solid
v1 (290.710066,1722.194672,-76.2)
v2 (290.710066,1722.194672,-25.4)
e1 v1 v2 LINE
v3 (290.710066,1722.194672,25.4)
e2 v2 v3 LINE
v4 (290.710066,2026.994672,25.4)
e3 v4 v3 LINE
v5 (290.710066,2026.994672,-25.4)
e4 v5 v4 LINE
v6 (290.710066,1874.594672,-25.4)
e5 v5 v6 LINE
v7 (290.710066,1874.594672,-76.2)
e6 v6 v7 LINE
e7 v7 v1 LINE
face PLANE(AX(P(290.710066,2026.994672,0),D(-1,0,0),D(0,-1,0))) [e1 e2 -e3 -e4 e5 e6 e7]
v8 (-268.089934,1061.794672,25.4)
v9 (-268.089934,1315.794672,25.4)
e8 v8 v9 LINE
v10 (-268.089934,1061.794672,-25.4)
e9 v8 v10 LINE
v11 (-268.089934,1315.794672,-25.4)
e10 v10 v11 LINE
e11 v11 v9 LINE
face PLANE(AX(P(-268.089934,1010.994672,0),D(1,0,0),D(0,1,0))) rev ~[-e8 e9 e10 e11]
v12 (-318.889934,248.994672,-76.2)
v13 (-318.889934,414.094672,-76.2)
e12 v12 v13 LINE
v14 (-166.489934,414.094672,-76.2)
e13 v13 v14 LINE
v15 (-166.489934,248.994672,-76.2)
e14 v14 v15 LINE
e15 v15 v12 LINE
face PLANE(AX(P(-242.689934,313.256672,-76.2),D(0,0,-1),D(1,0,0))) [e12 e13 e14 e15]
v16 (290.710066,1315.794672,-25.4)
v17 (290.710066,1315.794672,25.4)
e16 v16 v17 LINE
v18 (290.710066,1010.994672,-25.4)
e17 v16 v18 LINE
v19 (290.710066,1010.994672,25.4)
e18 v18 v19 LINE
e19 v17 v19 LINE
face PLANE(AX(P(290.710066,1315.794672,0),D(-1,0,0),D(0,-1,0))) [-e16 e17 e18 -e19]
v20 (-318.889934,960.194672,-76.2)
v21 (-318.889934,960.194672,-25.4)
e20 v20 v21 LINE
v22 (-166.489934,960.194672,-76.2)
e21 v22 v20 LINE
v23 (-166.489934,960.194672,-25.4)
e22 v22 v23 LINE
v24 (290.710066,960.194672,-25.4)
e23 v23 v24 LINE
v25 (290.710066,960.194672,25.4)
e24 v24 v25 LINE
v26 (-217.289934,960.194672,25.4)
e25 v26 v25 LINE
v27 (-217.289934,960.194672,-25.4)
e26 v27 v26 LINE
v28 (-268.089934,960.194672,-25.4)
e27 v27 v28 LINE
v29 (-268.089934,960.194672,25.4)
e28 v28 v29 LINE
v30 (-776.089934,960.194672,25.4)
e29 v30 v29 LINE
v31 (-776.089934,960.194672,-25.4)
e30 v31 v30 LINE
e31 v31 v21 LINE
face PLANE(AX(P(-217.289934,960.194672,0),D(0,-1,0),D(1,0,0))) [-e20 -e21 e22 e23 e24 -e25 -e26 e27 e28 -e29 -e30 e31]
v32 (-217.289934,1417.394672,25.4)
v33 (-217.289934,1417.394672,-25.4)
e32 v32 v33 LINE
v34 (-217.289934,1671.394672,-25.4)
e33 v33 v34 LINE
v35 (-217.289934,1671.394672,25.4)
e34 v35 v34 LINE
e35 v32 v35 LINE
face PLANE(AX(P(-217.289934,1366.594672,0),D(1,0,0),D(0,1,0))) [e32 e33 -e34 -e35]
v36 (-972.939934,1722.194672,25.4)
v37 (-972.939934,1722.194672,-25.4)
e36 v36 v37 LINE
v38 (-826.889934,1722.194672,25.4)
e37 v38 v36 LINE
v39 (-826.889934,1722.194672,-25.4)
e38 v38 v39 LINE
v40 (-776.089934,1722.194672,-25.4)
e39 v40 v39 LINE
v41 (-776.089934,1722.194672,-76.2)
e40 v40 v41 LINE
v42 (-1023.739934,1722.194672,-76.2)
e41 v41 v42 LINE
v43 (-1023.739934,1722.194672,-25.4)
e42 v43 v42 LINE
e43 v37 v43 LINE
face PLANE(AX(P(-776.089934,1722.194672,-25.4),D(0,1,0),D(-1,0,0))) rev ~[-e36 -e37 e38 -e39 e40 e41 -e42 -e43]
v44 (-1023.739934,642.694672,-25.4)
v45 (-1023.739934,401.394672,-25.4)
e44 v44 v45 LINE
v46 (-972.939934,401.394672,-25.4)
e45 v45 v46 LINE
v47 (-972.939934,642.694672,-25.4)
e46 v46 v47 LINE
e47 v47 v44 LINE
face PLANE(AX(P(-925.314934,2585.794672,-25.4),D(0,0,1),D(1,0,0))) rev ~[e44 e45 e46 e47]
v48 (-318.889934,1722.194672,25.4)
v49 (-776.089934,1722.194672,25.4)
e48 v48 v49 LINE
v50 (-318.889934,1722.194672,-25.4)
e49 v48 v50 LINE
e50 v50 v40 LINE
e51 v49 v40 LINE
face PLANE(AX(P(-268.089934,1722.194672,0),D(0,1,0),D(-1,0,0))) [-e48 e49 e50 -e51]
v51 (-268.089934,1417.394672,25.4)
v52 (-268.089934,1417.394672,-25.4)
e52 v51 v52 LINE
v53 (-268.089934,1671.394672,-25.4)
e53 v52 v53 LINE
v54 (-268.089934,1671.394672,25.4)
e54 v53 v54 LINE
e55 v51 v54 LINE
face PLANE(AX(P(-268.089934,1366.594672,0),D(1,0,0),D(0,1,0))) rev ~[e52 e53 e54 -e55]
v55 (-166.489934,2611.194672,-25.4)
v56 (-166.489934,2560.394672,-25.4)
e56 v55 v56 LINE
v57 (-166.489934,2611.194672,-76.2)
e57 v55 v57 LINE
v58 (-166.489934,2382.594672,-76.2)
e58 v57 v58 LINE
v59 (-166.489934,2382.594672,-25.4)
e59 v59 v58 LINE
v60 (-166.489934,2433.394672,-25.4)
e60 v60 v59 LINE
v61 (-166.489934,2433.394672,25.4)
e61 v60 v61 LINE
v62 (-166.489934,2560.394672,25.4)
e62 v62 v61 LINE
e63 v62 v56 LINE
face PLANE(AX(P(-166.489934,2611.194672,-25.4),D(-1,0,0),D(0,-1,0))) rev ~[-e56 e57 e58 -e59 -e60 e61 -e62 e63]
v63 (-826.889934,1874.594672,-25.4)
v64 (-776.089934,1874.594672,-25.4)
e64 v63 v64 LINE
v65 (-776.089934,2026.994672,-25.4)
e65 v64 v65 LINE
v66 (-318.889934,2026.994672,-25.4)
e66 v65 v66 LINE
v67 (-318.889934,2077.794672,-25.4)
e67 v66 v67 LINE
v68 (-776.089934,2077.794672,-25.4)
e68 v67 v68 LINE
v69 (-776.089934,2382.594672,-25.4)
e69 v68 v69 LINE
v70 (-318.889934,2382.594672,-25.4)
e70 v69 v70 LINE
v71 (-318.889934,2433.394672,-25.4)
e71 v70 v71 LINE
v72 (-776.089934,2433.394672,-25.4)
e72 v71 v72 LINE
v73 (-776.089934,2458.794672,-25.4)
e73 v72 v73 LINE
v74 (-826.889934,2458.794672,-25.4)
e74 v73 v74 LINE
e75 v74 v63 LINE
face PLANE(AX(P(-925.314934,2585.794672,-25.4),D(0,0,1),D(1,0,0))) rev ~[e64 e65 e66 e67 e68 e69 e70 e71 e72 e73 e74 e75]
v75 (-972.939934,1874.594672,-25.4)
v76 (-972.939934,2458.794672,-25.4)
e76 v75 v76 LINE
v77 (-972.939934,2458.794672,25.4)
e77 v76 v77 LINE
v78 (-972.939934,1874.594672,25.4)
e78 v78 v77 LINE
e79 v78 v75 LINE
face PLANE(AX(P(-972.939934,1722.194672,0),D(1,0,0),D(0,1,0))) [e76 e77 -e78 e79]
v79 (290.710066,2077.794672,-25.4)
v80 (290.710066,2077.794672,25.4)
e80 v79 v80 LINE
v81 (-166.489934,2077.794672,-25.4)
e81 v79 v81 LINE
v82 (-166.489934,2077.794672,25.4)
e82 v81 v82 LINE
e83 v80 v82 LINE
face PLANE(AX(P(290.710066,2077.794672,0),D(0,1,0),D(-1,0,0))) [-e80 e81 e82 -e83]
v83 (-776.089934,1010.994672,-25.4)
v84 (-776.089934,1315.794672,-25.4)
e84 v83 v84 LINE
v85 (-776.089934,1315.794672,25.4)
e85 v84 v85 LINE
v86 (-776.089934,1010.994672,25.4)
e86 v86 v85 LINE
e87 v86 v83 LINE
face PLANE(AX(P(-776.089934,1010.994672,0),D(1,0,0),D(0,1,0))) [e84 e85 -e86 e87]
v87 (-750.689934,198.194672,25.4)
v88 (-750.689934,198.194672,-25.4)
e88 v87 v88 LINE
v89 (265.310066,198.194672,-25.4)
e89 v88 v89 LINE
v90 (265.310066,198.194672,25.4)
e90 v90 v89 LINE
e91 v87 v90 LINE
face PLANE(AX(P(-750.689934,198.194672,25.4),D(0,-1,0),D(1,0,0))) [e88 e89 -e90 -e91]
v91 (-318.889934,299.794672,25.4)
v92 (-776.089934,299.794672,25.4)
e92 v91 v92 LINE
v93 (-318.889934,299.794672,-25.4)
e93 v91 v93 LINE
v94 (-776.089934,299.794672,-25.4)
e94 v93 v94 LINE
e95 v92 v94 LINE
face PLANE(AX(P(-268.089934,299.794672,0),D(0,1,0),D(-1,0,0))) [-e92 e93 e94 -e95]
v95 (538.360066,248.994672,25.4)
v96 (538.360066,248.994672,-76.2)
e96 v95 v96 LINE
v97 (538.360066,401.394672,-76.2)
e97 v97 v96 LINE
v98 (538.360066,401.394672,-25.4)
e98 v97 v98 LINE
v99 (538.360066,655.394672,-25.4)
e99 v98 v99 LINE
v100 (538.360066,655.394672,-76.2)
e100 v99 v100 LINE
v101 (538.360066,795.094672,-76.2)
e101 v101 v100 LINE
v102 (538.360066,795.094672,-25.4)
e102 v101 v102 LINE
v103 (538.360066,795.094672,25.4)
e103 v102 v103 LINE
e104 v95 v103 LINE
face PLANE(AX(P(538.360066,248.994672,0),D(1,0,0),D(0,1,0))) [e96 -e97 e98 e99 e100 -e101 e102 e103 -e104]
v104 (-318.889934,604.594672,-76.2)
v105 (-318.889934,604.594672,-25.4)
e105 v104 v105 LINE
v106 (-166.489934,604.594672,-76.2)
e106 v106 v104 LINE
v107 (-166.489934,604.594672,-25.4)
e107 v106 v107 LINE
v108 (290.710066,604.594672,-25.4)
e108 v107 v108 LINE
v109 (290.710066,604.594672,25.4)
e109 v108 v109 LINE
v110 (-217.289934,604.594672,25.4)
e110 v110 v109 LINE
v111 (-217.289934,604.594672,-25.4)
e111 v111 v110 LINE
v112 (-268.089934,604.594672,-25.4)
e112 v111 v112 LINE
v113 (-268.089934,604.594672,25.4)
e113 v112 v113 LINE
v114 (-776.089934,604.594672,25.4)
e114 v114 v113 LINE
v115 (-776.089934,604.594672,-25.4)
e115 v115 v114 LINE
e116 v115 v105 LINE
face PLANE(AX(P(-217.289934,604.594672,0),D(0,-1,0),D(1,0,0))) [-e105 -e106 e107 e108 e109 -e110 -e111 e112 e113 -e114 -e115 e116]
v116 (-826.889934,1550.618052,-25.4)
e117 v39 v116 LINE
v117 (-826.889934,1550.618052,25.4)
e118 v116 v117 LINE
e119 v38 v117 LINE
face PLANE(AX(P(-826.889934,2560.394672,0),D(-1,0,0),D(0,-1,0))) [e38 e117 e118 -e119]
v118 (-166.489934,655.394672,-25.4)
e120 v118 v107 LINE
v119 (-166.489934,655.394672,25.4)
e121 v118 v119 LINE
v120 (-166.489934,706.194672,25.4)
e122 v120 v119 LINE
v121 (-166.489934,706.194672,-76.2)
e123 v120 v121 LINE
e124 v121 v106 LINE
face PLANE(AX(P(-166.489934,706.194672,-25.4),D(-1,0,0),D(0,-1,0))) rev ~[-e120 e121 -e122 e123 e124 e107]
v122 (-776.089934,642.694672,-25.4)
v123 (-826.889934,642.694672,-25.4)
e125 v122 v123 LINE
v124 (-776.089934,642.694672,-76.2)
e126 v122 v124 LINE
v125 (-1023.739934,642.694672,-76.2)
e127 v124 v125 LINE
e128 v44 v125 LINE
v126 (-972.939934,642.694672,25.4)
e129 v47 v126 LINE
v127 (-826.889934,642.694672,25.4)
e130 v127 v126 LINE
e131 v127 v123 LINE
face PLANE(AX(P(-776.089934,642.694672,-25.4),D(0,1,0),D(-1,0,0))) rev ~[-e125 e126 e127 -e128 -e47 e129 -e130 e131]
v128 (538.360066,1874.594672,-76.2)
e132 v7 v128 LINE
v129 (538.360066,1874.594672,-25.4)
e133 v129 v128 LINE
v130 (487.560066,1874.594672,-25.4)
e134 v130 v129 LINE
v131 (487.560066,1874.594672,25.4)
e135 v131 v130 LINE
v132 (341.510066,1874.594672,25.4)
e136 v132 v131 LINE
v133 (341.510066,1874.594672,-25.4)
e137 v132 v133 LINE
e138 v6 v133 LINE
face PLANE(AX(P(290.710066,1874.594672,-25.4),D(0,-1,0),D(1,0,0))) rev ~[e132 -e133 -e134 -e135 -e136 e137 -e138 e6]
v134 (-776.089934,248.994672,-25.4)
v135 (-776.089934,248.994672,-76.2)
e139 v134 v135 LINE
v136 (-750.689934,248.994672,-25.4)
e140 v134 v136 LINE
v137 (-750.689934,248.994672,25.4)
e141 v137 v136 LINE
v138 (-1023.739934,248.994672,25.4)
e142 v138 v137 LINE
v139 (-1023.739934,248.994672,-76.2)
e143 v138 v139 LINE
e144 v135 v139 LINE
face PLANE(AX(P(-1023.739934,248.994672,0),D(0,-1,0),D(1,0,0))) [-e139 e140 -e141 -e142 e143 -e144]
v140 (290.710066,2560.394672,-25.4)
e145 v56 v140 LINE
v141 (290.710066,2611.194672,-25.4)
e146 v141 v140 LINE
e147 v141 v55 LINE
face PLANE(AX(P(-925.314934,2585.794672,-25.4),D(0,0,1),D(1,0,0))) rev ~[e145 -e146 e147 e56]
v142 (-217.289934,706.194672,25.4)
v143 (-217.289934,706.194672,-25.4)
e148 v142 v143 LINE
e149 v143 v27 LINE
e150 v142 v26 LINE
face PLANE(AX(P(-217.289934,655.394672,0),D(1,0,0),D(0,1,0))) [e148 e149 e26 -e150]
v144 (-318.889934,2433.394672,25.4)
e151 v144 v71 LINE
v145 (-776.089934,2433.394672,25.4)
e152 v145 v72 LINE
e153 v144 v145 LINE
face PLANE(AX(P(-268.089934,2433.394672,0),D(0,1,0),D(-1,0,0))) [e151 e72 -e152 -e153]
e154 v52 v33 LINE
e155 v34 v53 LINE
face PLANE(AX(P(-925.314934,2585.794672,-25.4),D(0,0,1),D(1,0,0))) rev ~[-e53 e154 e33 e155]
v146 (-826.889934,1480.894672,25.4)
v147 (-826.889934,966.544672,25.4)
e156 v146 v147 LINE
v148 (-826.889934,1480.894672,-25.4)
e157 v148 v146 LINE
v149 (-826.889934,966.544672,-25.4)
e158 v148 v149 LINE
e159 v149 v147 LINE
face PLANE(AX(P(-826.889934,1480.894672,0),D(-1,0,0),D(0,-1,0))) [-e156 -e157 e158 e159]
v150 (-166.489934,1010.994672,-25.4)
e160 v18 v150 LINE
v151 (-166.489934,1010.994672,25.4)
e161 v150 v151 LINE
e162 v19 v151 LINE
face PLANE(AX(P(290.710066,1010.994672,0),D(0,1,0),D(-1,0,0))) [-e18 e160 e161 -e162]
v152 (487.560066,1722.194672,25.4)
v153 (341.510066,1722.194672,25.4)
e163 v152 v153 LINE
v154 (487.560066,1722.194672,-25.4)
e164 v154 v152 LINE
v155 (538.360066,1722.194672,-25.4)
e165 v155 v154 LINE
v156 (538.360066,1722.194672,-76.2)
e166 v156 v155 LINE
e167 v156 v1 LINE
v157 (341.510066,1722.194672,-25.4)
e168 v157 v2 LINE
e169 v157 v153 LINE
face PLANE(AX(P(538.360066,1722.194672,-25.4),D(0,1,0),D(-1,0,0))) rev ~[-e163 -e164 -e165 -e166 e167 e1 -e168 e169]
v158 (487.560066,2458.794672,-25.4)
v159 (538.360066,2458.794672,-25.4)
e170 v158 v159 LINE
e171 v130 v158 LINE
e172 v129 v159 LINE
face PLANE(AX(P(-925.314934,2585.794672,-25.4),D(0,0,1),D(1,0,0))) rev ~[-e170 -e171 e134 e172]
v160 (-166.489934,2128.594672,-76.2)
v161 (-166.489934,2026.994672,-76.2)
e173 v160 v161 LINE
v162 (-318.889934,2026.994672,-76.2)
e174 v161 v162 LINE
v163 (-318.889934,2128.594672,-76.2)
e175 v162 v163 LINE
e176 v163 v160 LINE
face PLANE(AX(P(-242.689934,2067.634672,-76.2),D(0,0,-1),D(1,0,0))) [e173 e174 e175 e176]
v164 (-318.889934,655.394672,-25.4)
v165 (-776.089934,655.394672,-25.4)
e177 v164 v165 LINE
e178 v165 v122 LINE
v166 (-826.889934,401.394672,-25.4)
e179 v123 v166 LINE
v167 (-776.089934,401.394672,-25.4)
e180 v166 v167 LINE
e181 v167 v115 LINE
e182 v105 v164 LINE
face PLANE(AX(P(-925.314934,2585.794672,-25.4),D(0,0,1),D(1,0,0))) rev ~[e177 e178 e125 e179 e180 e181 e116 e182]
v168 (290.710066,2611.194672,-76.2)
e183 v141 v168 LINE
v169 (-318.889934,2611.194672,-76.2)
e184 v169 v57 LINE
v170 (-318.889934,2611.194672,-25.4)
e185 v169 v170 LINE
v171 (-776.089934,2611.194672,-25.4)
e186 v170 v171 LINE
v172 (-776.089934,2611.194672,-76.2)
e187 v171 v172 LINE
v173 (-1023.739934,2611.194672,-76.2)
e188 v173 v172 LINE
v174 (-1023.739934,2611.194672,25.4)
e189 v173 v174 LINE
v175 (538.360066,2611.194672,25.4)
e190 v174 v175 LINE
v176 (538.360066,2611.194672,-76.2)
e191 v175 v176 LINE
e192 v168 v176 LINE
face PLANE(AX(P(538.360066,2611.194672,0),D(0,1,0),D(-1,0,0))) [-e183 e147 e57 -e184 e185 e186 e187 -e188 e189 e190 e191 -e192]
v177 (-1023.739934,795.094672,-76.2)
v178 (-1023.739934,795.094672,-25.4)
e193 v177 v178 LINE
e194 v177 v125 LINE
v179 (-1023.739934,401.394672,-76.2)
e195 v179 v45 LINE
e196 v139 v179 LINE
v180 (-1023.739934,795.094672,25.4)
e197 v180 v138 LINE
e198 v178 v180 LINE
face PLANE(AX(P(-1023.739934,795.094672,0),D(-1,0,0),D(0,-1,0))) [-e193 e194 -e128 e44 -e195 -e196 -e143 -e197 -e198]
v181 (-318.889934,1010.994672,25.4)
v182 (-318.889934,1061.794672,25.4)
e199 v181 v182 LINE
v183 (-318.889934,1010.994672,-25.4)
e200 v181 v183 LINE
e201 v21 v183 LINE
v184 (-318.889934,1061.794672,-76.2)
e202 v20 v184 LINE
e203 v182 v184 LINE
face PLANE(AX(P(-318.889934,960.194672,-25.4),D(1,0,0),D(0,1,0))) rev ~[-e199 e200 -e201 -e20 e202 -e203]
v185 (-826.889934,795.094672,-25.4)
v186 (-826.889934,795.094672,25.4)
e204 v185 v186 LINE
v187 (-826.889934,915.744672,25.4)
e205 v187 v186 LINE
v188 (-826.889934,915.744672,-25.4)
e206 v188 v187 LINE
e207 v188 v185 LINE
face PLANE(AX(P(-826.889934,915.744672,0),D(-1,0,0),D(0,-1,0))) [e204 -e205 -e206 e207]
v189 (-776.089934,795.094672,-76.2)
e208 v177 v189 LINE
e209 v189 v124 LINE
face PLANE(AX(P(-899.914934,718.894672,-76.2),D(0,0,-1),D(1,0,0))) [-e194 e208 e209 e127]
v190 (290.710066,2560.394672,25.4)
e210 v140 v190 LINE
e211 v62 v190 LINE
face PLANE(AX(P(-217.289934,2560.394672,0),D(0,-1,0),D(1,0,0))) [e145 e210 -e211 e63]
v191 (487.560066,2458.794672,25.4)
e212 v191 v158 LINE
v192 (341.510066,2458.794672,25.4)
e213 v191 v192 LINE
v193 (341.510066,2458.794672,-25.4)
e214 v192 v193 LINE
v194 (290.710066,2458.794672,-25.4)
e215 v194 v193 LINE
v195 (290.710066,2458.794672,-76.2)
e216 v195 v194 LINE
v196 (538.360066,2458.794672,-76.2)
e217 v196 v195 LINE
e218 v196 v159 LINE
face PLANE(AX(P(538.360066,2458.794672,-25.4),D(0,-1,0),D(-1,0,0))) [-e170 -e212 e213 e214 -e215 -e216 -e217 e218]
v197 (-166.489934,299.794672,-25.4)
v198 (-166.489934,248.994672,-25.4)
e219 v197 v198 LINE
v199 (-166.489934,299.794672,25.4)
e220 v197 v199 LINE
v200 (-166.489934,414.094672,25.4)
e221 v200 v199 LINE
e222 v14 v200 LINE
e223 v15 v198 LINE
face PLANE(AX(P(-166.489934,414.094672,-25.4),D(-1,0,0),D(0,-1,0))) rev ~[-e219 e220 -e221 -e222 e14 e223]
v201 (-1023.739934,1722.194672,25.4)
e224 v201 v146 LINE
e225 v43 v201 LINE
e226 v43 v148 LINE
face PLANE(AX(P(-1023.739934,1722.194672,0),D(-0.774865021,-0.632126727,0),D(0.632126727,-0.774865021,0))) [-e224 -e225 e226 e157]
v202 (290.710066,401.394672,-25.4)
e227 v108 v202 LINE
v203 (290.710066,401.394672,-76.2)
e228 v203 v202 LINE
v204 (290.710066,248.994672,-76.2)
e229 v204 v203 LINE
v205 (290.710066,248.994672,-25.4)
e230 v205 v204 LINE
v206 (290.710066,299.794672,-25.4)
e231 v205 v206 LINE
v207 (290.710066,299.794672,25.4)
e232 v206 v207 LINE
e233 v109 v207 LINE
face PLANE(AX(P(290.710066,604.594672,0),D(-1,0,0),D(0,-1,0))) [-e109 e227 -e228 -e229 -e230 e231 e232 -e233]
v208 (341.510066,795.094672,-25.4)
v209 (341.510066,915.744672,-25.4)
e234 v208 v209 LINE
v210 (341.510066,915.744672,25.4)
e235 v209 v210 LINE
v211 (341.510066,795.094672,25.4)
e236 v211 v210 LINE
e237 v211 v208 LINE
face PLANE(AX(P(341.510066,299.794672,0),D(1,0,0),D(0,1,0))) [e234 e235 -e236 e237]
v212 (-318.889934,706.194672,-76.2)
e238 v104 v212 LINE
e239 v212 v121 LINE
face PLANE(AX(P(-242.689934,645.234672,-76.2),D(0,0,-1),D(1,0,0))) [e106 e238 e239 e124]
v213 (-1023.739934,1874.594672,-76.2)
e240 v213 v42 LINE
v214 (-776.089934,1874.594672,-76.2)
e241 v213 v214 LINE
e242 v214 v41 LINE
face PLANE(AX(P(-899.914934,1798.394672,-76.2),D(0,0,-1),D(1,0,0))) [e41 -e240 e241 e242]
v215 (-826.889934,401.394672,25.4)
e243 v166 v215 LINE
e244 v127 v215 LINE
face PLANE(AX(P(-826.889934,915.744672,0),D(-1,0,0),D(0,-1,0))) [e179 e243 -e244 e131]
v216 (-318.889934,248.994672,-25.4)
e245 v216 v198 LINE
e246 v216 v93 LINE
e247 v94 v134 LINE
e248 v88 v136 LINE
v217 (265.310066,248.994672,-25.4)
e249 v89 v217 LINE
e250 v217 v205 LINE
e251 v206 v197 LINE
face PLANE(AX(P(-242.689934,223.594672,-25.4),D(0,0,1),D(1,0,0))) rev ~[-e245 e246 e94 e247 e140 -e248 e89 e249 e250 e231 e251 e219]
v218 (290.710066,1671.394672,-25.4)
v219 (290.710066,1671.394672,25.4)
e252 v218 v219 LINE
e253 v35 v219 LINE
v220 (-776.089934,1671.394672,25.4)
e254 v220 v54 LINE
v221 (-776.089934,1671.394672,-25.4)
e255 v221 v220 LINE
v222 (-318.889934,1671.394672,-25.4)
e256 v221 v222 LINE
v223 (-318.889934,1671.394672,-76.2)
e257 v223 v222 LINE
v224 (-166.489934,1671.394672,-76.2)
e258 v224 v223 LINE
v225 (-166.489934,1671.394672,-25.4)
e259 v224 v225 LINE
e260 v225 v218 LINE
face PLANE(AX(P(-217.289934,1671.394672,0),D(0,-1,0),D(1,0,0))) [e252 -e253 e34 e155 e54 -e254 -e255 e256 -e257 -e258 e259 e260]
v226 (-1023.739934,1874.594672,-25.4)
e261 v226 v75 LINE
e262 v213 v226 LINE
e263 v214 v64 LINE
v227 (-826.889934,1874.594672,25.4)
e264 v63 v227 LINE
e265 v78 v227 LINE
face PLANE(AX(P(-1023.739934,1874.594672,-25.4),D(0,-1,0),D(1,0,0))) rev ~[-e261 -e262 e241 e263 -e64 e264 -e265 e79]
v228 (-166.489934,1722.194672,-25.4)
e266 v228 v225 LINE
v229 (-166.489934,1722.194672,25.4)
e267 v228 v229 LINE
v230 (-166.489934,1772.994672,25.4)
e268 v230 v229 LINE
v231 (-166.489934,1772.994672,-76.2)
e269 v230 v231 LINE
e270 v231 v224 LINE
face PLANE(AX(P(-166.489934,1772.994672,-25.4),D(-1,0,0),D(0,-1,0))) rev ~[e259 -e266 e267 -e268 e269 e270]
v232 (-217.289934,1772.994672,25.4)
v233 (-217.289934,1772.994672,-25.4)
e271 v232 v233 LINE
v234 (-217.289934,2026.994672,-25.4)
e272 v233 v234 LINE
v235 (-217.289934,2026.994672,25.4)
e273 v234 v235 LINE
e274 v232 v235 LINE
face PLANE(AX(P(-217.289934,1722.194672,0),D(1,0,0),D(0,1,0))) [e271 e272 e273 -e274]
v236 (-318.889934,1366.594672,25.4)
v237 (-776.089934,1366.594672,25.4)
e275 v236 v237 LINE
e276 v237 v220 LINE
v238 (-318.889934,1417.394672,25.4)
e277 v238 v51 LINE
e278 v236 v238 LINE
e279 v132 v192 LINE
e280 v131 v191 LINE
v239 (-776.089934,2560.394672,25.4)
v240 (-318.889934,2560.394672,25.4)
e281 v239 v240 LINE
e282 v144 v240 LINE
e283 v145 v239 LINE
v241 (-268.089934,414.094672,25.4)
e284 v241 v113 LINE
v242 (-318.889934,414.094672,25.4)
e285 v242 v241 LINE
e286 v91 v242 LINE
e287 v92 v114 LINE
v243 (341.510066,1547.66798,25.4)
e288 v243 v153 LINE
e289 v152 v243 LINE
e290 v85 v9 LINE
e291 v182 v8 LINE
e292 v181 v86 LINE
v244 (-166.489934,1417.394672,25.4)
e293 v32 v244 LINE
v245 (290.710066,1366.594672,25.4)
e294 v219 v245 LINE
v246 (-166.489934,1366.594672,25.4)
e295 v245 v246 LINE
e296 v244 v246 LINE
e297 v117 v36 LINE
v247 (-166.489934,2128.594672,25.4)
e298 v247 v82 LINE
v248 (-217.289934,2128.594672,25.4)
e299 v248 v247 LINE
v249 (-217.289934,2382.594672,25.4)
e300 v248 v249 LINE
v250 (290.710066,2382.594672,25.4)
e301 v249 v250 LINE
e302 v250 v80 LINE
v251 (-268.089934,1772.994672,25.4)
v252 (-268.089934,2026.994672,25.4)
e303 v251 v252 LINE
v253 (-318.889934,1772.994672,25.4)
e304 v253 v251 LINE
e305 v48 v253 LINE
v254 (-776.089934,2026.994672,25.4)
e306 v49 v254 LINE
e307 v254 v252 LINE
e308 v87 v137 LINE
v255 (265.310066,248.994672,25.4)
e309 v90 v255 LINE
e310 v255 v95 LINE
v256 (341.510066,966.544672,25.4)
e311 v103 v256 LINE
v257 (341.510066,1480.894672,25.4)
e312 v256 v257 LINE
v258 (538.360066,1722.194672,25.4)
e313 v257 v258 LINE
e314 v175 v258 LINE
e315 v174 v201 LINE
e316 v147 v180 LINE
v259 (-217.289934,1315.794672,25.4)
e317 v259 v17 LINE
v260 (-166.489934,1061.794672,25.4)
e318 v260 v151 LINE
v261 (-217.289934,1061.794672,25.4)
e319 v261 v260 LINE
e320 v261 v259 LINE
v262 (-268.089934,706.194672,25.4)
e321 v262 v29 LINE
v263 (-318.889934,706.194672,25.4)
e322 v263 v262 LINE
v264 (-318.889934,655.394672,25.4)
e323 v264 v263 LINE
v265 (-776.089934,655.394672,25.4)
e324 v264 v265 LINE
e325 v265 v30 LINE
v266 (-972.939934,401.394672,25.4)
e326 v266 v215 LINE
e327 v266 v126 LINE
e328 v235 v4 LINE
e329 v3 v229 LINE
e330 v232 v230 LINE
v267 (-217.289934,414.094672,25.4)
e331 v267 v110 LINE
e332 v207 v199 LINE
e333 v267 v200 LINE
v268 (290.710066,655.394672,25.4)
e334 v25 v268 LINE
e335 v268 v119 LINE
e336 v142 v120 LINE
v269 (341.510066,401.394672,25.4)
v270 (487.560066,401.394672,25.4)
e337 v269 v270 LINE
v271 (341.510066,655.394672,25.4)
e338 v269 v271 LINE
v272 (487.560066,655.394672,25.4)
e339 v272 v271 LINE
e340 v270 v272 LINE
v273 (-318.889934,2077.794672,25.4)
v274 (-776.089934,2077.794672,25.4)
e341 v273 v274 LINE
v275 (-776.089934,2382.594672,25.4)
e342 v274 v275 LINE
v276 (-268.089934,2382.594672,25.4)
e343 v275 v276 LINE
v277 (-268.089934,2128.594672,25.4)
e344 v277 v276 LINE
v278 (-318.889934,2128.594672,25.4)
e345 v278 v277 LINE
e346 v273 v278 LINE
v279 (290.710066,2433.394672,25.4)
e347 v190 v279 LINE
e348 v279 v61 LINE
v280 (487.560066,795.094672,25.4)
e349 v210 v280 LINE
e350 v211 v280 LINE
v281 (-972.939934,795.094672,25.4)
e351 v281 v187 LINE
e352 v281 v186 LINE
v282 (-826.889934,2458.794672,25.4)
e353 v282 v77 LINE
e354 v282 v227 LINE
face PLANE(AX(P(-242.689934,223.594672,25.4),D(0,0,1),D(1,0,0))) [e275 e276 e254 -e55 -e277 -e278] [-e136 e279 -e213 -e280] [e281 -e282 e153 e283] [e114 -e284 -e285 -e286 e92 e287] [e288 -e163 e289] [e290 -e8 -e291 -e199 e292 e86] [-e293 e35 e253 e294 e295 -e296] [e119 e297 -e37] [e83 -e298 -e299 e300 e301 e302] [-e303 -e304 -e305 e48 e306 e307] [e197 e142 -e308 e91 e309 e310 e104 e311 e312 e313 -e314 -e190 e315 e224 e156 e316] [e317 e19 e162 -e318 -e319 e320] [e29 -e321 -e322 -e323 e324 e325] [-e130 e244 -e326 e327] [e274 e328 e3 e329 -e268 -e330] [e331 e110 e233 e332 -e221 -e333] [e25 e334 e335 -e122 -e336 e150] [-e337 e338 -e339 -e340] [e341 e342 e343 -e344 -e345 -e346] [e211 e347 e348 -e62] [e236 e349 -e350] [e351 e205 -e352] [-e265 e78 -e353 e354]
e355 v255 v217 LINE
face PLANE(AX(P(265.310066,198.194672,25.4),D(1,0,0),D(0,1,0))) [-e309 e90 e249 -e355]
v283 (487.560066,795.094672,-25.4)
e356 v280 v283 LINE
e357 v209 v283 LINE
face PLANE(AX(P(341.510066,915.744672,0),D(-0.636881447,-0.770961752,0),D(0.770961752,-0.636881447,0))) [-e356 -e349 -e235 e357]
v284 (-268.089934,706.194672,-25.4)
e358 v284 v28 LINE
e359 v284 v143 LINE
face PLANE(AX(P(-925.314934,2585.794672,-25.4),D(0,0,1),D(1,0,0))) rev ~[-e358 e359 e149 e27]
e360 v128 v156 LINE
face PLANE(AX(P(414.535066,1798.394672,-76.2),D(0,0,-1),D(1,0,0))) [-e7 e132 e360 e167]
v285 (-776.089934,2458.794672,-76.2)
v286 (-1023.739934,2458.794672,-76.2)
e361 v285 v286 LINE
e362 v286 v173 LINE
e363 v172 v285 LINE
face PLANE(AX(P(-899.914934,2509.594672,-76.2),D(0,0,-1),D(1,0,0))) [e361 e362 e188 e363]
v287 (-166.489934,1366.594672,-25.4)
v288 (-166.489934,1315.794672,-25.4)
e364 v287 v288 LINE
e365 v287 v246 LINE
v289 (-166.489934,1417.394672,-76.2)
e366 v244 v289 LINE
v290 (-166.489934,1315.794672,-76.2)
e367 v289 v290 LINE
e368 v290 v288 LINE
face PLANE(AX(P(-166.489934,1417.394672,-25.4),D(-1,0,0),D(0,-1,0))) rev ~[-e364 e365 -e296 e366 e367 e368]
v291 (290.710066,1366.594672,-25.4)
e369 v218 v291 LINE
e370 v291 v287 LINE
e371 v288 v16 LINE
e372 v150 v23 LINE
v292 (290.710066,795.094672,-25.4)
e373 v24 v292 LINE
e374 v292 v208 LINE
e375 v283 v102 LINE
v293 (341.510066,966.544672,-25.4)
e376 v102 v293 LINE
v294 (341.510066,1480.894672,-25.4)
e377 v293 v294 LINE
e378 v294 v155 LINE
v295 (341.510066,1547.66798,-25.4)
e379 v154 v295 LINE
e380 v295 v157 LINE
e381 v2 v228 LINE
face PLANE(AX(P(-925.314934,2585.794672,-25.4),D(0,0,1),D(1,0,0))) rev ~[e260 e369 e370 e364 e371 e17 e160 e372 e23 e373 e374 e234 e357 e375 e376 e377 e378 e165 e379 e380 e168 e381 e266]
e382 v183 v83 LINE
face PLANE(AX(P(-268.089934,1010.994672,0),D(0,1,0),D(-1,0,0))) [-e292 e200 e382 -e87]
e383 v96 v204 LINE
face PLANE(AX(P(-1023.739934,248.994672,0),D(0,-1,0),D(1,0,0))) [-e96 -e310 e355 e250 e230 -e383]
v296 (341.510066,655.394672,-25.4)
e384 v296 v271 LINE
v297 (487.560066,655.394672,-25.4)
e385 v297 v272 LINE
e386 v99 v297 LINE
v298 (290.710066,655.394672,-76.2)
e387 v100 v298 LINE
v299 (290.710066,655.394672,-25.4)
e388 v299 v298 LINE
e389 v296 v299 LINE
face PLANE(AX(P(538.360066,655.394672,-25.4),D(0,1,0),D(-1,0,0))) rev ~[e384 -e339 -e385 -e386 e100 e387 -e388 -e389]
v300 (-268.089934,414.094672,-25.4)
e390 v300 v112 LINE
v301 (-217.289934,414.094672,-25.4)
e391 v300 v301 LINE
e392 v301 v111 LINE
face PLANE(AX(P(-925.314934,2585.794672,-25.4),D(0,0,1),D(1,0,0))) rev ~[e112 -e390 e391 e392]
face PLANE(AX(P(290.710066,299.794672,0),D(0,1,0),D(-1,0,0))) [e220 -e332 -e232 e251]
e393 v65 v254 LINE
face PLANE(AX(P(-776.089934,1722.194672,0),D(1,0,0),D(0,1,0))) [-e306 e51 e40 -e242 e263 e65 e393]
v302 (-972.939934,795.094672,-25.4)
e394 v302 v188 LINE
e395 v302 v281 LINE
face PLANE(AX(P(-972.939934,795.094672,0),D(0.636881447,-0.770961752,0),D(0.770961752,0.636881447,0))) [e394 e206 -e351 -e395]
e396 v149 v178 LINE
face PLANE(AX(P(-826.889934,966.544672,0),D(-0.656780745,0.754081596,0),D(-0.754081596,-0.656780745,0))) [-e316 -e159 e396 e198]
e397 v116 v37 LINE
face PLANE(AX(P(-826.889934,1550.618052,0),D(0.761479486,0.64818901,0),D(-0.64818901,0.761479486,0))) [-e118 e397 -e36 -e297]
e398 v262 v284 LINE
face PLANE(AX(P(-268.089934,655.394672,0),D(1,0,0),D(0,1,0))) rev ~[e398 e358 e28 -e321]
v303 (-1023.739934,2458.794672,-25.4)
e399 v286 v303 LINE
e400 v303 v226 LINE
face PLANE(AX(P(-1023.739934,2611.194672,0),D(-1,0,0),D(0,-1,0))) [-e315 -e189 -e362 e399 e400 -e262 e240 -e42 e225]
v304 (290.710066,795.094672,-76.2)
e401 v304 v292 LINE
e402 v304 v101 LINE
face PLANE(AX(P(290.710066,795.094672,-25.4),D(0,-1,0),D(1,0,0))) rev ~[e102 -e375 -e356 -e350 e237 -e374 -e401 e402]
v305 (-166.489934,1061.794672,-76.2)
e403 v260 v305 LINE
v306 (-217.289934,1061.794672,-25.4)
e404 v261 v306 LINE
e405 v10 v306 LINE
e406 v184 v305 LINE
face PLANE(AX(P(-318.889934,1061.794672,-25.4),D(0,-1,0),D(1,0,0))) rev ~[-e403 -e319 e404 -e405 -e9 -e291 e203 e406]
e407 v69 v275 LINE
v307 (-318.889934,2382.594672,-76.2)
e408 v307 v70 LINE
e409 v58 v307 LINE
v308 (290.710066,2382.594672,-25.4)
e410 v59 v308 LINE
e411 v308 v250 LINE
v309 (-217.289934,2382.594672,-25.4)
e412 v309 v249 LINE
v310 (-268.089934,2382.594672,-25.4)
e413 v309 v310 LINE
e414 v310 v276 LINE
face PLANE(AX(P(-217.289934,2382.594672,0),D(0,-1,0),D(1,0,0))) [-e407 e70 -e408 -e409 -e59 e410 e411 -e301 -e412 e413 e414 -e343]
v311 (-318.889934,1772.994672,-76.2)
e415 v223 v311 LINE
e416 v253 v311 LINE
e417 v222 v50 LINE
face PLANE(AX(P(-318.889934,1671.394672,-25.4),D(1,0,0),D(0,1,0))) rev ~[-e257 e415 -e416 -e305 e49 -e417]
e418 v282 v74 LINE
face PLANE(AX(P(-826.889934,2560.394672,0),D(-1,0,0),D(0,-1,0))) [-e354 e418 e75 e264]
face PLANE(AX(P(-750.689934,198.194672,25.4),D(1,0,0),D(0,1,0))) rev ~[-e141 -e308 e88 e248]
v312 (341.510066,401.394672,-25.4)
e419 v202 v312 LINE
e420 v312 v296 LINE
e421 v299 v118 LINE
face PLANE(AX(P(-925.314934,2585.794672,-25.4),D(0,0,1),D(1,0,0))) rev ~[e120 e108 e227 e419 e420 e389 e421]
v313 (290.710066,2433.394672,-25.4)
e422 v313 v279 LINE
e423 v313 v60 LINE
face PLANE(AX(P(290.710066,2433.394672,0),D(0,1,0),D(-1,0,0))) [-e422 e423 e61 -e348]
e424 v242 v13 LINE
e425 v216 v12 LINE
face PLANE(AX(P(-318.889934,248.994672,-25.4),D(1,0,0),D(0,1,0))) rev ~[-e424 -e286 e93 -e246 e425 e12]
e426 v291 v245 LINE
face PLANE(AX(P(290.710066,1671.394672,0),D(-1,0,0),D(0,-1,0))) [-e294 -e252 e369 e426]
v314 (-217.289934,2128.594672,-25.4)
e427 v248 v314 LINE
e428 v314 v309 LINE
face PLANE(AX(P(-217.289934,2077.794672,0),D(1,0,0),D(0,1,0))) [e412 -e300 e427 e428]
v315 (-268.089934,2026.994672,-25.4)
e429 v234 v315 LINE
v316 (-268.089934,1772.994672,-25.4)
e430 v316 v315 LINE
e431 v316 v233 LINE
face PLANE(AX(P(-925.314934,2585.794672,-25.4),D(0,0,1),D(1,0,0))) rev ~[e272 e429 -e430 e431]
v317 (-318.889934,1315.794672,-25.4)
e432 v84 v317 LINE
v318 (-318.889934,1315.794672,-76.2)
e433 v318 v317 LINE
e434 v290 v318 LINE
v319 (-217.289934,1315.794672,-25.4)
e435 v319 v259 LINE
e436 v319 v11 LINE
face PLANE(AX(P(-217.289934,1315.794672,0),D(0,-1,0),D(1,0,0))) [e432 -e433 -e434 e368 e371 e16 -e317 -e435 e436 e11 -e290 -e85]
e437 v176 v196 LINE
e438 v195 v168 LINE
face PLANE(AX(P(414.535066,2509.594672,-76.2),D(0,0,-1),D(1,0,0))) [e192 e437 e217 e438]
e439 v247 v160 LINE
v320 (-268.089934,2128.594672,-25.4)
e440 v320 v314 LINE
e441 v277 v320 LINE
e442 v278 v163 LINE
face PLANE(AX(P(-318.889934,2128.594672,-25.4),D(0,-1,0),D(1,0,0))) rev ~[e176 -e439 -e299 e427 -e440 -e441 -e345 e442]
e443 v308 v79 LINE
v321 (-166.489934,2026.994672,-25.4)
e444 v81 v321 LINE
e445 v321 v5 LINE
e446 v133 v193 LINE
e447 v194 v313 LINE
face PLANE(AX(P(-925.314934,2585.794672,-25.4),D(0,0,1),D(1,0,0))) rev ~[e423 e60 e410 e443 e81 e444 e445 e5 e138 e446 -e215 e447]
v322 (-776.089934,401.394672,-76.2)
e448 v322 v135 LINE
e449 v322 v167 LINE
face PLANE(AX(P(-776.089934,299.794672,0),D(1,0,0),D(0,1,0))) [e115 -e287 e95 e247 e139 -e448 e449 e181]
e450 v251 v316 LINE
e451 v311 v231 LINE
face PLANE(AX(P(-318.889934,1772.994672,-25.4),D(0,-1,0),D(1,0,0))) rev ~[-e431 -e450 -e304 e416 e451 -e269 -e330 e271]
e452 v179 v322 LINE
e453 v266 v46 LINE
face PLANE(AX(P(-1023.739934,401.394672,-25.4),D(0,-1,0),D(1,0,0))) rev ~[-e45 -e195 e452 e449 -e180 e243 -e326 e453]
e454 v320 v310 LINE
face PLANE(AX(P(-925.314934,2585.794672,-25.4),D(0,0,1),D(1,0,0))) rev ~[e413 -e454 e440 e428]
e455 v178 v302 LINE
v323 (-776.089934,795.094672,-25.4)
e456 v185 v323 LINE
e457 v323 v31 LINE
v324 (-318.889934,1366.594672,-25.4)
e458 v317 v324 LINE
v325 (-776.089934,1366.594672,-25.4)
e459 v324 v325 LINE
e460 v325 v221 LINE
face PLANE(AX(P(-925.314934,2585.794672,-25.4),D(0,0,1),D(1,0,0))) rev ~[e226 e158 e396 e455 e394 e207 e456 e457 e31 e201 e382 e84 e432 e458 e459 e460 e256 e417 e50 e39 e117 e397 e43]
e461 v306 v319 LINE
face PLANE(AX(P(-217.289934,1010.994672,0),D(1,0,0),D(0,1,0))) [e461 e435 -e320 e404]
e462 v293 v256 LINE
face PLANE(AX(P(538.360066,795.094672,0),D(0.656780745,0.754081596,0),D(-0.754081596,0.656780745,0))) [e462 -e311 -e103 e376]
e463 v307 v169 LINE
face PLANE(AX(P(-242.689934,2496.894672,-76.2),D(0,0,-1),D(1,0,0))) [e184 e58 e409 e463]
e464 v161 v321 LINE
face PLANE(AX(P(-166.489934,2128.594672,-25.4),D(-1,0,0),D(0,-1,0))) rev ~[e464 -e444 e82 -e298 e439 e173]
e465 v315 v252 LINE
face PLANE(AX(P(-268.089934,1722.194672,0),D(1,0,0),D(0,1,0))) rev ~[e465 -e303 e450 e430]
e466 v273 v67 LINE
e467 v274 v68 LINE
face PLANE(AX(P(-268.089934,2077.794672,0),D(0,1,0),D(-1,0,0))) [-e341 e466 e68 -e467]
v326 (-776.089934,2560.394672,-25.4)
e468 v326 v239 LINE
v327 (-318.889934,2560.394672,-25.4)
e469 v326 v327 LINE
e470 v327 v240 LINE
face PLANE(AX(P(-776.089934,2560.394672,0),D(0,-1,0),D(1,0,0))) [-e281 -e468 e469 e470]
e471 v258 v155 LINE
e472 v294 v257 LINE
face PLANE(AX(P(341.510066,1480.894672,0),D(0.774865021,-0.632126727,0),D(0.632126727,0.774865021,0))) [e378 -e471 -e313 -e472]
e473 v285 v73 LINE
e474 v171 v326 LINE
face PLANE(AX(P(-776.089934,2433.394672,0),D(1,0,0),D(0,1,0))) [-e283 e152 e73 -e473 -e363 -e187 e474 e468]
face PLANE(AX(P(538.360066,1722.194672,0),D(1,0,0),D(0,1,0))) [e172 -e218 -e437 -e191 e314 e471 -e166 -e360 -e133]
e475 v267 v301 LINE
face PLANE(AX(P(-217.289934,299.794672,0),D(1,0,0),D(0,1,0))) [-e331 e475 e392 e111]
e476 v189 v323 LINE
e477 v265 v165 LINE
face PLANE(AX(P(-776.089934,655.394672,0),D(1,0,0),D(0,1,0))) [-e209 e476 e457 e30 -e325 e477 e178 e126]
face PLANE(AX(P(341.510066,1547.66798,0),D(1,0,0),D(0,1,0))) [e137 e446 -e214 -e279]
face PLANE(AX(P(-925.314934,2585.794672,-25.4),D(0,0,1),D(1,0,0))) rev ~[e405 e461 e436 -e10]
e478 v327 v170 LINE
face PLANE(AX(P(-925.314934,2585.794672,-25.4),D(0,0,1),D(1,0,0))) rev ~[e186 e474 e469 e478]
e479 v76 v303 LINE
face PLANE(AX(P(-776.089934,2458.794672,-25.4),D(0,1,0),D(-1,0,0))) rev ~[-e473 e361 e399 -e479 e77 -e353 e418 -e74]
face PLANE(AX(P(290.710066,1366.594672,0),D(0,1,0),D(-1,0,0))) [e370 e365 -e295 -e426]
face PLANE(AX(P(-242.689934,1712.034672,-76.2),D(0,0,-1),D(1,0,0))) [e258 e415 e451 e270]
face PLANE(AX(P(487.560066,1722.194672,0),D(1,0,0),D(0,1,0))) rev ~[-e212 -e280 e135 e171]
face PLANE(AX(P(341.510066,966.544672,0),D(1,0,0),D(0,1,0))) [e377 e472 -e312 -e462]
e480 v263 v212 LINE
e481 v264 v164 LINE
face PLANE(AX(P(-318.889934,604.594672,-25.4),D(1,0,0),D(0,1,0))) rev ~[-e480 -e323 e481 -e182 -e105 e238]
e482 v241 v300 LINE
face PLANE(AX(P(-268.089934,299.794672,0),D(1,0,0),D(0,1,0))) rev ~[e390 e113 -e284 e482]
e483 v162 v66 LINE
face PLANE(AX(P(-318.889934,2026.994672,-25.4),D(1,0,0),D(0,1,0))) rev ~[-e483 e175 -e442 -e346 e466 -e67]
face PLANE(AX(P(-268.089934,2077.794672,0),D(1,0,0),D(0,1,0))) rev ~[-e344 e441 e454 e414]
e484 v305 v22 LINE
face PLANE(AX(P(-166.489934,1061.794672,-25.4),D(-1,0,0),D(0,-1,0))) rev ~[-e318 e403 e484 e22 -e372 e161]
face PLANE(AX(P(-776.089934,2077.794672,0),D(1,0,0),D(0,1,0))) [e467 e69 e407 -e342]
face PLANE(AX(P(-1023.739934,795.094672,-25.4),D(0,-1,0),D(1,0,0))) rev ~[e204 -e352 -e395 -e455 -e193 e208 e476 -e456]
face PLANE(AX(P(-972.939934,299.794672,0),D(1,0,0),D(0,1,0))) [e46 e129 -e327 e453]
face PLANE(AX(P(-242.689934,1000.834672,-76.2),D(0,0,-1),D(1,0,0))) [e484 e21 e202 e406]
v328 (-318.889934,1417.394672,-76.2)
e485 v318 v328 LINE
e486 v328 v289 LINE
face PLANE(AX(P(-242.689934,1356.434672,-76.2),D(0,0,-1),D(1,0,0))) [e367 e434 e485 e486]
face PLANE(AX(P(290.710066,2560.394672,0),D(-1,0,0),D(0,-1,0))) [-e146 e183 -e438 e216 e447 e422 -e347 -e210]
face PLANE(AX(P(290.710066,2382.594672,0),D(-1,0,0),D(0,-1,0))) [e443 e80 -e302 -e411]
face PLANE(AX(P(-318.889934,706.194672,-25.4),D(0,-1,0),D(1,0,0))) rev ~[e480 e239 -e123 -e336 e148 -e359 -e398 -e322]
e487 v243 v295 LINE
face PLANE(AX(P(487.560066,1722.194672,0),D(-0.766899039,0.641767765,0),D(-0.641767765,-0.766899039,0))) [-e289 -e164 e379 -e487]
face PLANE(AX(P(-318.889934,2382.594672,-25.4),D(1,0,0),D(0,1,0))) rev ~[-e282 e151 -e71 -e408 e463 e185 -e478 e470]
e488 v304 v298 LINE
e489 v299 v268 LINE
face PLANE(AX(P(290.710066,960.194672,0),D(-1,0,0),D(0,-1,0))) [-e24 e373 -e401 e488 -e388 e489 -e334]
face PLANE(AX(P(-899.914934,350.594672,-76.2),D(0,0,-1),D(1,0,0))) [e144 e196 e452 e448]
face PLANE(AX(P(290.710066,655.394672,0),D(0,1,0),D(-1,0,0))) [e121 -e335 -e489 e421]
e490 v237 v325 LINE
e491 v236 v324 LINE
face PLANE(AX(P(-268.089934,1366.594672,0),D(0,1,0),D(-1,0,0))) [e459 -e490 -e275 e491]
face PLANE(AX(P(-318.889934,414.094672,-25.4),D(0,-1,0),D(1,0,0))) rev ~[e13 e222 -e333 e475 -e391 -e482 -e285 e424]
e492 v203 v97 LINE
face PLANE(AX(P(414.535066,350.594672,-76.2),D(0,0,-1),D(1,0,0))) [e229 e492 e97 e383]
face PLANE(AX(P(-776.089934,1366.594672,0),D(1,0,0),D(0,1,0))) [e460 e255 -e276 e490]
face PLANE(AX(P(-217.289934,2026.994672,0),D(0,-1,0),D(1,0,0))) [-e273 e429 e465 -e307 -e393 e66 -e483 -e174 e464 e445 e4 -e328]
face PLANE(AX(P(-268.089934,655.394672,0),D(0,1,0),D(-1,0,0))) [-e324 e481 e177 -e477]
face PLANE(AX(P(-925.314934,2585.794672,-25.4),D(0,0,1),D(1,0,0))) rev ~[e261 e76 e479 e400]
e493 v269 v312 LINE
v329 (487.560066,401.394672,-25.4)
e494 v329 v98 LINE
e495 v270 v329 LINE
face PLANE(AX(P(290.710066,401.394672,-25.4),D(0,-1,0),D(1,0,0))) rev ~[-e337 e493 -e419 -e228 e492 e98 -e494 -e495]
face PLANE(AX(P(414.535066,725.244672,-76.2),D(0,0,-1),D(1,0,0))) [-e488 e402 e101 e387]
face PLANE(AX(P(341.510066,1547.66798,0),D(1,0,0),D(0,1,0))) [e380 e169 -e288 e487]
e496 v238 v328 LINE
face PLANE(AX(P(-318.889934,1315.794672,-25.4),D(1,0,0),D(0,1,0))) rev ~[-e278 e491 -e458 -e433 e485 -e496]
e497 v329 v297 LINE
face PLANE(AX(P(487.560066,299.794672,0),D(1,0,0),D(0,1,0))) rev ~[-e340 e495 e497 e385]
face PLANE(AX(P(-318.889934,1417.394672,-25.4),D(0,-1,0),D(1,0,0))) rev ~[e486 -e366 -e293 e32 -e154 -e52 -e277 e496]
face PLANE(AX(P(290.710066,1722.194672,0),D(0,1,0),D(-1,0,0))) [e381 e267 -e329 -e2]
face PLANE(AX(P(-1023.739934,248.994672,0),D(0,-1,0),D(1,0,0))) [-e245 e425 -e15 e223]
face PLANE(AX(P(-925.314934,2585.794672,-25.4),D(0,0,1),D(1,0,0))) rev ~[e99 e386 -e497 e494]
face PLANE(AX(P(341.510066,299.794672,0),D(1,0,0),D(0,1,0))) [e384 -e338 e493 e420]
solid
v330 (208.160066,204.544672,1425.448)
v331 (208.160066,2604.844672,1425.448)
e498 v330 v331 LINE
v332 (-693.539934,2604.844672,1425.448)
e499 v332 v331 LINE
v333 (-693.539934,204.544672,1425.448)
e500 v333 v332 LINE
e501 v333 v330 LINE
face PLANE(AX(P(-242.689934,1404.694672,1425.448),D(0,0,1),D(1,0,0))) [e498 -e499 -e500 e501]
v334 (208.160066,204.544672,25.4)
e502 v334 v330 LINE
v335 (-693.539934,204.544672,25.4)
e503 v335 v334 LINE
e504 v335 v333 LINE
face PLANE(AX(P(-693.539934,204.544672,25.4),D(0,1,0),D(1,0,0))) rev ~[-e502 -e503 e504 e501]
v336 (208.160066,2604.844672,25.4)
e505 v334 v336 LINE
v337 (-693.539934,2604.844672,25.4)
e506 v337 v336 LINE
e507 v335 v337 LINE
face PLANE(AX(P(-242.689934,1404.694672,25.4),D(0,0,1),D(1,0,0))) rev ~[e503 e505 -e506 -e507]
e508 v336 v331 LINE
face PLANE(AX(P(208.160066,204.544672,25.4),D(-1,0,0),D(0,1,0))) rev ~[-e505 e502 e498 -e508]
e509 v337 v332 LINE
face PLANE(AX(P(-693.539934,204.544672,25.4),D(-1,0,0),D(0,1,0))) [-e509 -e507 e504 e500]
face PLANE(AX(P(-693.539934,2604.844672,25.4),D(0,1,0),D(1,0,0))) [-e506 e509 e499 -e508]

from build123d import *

# Parameters (mm, degrees)
F0_W     = 50.8
F0_H     = 50.8
F0_H_2   = 127
F0_H_3   = 304.8
F0_H_4   = 838.2
F0_H_5   = 495.3
F1_DEPTH = 25.4
F2_W     = 146.05
F2_H     = 101.6
F2_W_2   = 50.8
F2_H_2   = 114.3
F2_H_3   = 139.7
F2_H_4   = 152.4
F2_H_5   = 50.8
F2_H_6   = 127
F3_DEPTH = 50.8
F4_W     = 1016
F4_H     = 50.8
F5_DEPTH = 50.8
F6_W     = 901.7
F6_H     = 2400.3
F7_DEPTH = 1400.048


with BuildPart() as f1:
    # F0 (on Top) → F1 (new body, symmetric)
    with BuildSketch(Plane.XY):
        Polygon((-972.9399339676, 2560.3946716309), (-826.8899339676, 2560.3946716309), (-826.8899339676, 2611.1946716309), (-1023.7399339676, 2611.1946716309), (-1023.7399339676, 2560.3946716309), align=None)
        Polygon((-776.0899339676, 2611.1946716309), (-776.0899339676, 2560.3946716309), (-268.0899339676, 2560.3946716309), (-217.2899339676, 2560.3946716309), (290.7100660324, 2560.3946716309), (290.7100660324, 2611.1946716309), align=None)
        with Locations((-801.4899339676, 2585.7946716309)):
            Rectangle(F0_W, F0_H)
        Polygon((-826.8899339676, 915.7446716309), (-826.8899339676, 299.7946716309), (-776.0899339676, 299.7946716309), (-776.0899339676, 604.5946716309), (-776.0899339676, 655.3946716309), (-776.0899339676, 960.1946716309), (-776.0899339676, 1010.9946716309), (-776.0899339676, 1315.7946716309), (-776.0899339676, 1366.5946716309), (-776.0899339676, 1671.3946716309), (-776.0899339676, 1722.1946716309), (-776.0899339676, 2026.9946716309), (-776.0899339676, 2077.7946716309), (-776.0899339676, 2382.5946716309), (-776.0899339676, 2433.3946716309), (-776.0899339676, 2560.3946716309), (-826.8899339676, 2560.3946716309), (-826.8899339676, 1550.6180524826), (-826.8899339676, 1480.8946716309), (-826.8899339676, 966.5446716309), align=None)
        Polygon((341.5100660324, 2611.1946716309), (341.5100660324, 2560.3946716309), (487.5600660324, 2560.3946716309), (538.3600660324, 2560.3946716309), (538.3600660324, 2611.1946716309), align=None)
        with Locations((316.1100660324, 2585.7946716309)):
            Rectangle(F0_W, F0_H)
        Polygon((290.7100660324, 299.7946716309), (341.5100660324, 299.7946716309), (341.5100660324, 915.7446716309), (341.5100660324, 966.5446716309), (341.5100660324, 1480.8946716309), (341.5100660324, 1547.6679801941), (341.5100660324, 2560.3946716309), (290.7100660324, 2560.3946716309), (290.7100660324, 2433.3946716309), (290.7100660324, 2382.5946716309), (290.7100660324, 2077.7946716309), (290.7100660324, 2026.9946716309), (290.7100660324, 1722.1946716309), (290.7100660324, 1671.3946716309), (290.7100660324, 1366.5946716309), (290.7100660324, 1315.7946716309), (290.7100660324, 1010.9946716309), (290.7100660324, 960.1946716309), (290.7100660324, 655.3946716309), (290.7100660324, 604.5946716309), align=None)
        Polygon((-268.0899339676, 2433.3946716309), (-776.0899339676, 2433.3946716309), (-776.0899339676, 2382.5946716309), (-268.0899339676, 2382.5946716309), (-217.2899339676, 2382.5946716309), (290.7100660324, 2382.5946716309), (290.7100660324, 2433.3946716309), (-217.2899339676, 2433.3946716309), align=None)
        with Locations((-242.6899339676, 2496.8946716309)):
            Rectangle(F0_W, F0_H_2)
        with Locations((-242.6899339676, 2230.1946716309)):
            Rectangle(F0_W, F0_H_3)
        Polygon((-268.0899339676, 2077.7946716309), (-776.0899339676, 2077.7946716309), (-776.0899339676, 2026.9946716309), (-268.0899339676, 2026.9946716309), (-217.2899339676, 2026.9946716309), (290.7100660324, 2026.9946716309), (290.7100660324, 2077.7946716309), (-217.2899339676, 2077.7946716309), align=None)
        with Locations((-242.6899339676, 1874.5946716309)):
            Rectangle(F0_W, F0_H_3)
        with Locations((512.9600660324, 2141.2946716309)):
            Rectangle(F0_W, F0_H_4)
        Polygon((341.5100660324, 1547.6679801941), (341.5100660324, 1480.8946716309), (538.3600660324, 1722.1946716309), (487.5600660324, 1722.1946716309), align=None)
        Polygon((-776.0899339676, 1722.1946716309), (-776.0899339676, 1671.3946716309), (-268.0899339676, 1671.3946716309), (-217.2899339676, 1671.3946716309), (290.7100660324, 1671.3946716309), (290.7100660324, 1722.1946716309), (-217.2899339676, 1722.1946716309), (-268.0899339676, 1722.1946716309), align=None)
        with Locations((-998.3399339676, 2141.2946716309)):
            Rectangle(F0_W, F0_H_4)
        Polygon((-1023.7399339676, 1722.1946716309), (-826.8899339676, 1480.8946716309), (-826.8899339676, 1550.6180524826), (-972.9399339676, 1722.1946716309), align=None)
        Polygon((-776.0899339676, 1366.5946716309), (-776.0899339676, 1315.7946716309), (-268.0899339676, 1315.7946716309), (-217.2899339676, 1315.7946716309), (290.7100660324, 1315.7946716309), (290.7100660324, 1366.5946716309), (-217.2899339676, 1366.5946716309), (-268.0899339676, 1366.5946716309), align=None)
        with Locations((-242.6899339676, 1518.9946716309)):
            Rectangle(F0_W, F0_H_3)
        with Locations((-242.6899339676, 1163.3946716309)):
            Rectangle(F0_W, F0_H_3)
        Polygon((-776.0899339676, 1010.9946716309), (-776.0899339676, 960.1946716309), (-268.0899339676, 960.1946716309), (-217.2899339676, 960.1946716309), (290.7100660324, 960.1946716309), (290.7100660324, 1010.9946716309), (-217.2899339676, 1010.9946716309), (-268.0899339676, 1010.9946716309), align=None)
        with Locations((-242.6899339676, 807.7946716309)):
            Rectangle(F0_W, F0_H_3)
        Polygon((-776.0899339676, 655.3946716309), (-776.0899339676, 604.5946716309), (-268.0899339676, 604.5946716309), (-217.2899339676, 604.5946716309), (290.7100660324, 604.5946716309), (290.7100660324, 655.3946716309), (-217.2899339676, 655.3946716309), (-268.0899339676, 655.3946716309), align=None)
        with Locations((-242.6899339676, 452.1946716309)):
            Rectangle(F0_W, F0_H_3)
        Polygon((-826.8899339676, 299.7946716309), (-826.8899339676, 248.9946716309), (341.5100660324, 248.9946716309), (341.5100660324, 299.7946716309), (290.7100660324, 299.7946716309), (-217.2899339676, 299.7946716309), (-268.0899339676, 299.7946716309), (-776.0899339676, 299.7946716309), align=None)
        Polygon((341.5100660324, 299.7946716309), (341.5100660324, 248.9946716309), (538.3600660324, 248.9946716309), (538.3600660324, 299.7946716309), (487.5600660324, 299.7946716309), align=None)
        with Locations((512.9600660324, 547.4446716309)):
            Rectangle(F0_W, F0_H_5)
        Polygon((341.5100660324, 966.5446716309), (341.5100660324, 915.7446716309), (487.5600660324, 795.0946716309), (538.3600660324, 795.0946716309), align=None)
        Polygon((-972.9399339676, 795.0946716309), (-826.8899339676, 915.7446716309), (-826.8899339676, 966.5446716309), (-1023.7399339676, 795.0946716309), align=None)
        with Locations((-998.3399339676, 547.4446716309)):
            Rectangle(F0_W, F0_H_5)
        Polygon((-1023.7399339676, 248.9946716309), (-826.8899339676, 248.9946716309), (-826.8899339676, 299.7946716309), (-972.9399339676, 299.7946716309), (-1023.7399339676, 299.7946716309), align=None)
    extrude(amount=F1_DEPTH, both=True)

    # F2 (on face) → F3 (join, symmetric)
    with BuildSketch(Plane(origin=(0, 0, -25.4), x_dir=(1, 0, 0), z_dir=(0, 0, -1))):
        with Locations((-899.9149339676, -350.5946716309)):
            Rectangle(F2_W, F2_H)
        Polygon((-776.0899339676, -248.9946716309), (-1023.7399339676, -248.9946716309), (-1023.7399339676, -401.3946716309), (-972.9399339676, -401.3946716309), (-972.9399339676, -299.7946716309), (-826.8899339676, -299.7946716309), (-826.8899339676, -401.3946716309), (-776.0899339676, -401.3946716309), (-776.0899339676, -299.7946716309), align=None)
        Polygon((-166.4899339676, -248.9946716309), (-318.8899339676, -248.9946716309), (-318.8899339676, -299.7946716309), (-268.0899339676, -299.7946716309), (-268.0899339676, -414.0946716309), (-217.2899339676, -414.0946716309), (-217.2899339676, -299.7946716309), (-166.4899339676, -299.7946716309), align=None)
        with Locations((-293.4899339676, -356.9446716309)):
            Rectangle(F2_W_2, F2_H_2)
        with Locations((-191.8899339676, -356.9446716309)):
            Rectangle(F2_W_2, F2_H_2)
        with Locations((414.5350660324, -350.5946716309)):
            Rectangle(F2_W, F2_H)
        Polygon((538.3600660324, -248.9946716309), (290.7100660324, -248.9946716309), (290.7100660324, -299.7946716309), (290.7100660324, -401.3946716309), (341.5100660324, -401.3946716309), (341.5100660324, -299.7946716309), (487.5600660324, -299.7946716309), (487.5600660324, -401.3946716309), (538.3600660324, -401.3946716309), align=None)
        with Locations((414.5350660324, -725.2446716309)):
            Rectangle(F2_W, F2_H_3)
        with Locations((512.9600660324, -725.2446716309)):
            Rectangle(F2_W_2, F2_H_3)
        with Locations((316.1100660324, -725.2446716309)):
            Rectangle(F2_W_2, F2_H_3)
        with Locations((-899.9149339676, -718.8946716309)):
            Rectangle(F2_W, F2_H_4)
        Polygon((-776.0899339676, -642.6946716309), (-826.8899339676, -642.6946716309), (-826.8899339676, -795.0946716309), (-776.0899339676, -795.0946716309), (-776.0899339676, -655.3946716309), align=None)
        with Locations((-998.3399339676, -718.8946716309)):
            Rectangle(F2_W_2, F2_H_4)
        Polygon((-268.0899339676, -604.5946716309), (-318.8899339676, -604.5946716309), (-318.8899339676, -655.3946716309), (-268.0899339676, -655.3946716309), (-268.0899339676, -706.1946716309), (-217.2899339676, -706.1946716309), (-217.2899339676, -655.3946716309), (-166.4899339676, -655.3946716309), (-166.4899339676, -604.5946716309), (-217.2899339676, -604.5946716309), align=None)
        with Locations((-191.8899339676, -680.7946716309)):
            Rectangle(F2_W_2, F2_H_5)
        with Locations((-293.4899339676, -680.7946716309)):
            Rectangle(F2_W_2, F2_H_5)
        Polygon((-268.0899339676, -960.1946716309), (-318.8899339676, -960.1946716309), (-318.8899339676, -1010.9946716309), (-268.0899339676, -1010.9946716309), (-268.0899339676, -1061.7946716309), (-217.2899339676, -1061.7946716309), (-217.2899339676, -1010.9946716309), (-166.4899339676, -1010.9946716309), (-166.4899339676, -960.1946716309), (-217.2899339676, -960.1946716309), align=None)
        with Locations((-191.8899339676, -1036.3946716309)):
            Rectangle(F2_W_2, F2_H_5)
        with Locations((-293.4899339676, -1036.3946716309)):
            Rectangle(F2_W_2, F2_H_5)
        Polygon((-217.2899339676, -1315.7946716309), (-268.0899339676, -1315.7946716309), (-318.8899339676, -1315.7946716309), (-318.8899339676, -1366.5946716309), (-268.0899339676, -1366.5946716309), (-268.0899339676, -1417.3946716309), (-217.2899339676, -1417.3946716309), (-217.2899339676, -1366.5946716309), (-166.4899339676, -1366.5946716309), (-166.4899339676, -1315.7946716309), align=None)
        with Locations((-293.4899339676, -1391.9946716309)):
            Rectangle(F2_W_2, F2_H_5)
        with Locations((-191.8899339676, -1391.9946716309)):
            Rectangle(F2_W_2, F2_H_5)
        with Locations((-899.9149339676, -1798.3946716309)):
            Rectangle(F2_W, F2_H_4)
        with Locations((-801.4899339676, -1798.3946716309)):
            Rectangle(F2_W_2, F2_H_4)
        with Locations((-998.3399339676, -1798.3946716309)):
            Rectangle(F2_W_2, F2_H_4)
        with Locations((414.5350660324, -1798.3946716309)):
            Rectangle(F2_W, F2_H_4)
        with Locations((316.1100660324, -1798.3946716309)):
            Rectangle(F2_W_2, F2_H_4)
        with Locations((512.9600660324, -1798.3946716309)):
            Rectangle(F2_W_2, F2_H_4)
        Polygon((-318.8899339676, -1671.3946716309), (-318.8899339676, -1722.1946716309), (-268.0899339676, -1722.1946716309), (-268.0899339676, -1772.9946716309), (-217.2899339676, -1772.9946716309), (-217.2899339676, -1722.1946716309), (-166.4899339676, -1722.1946716309), (-166.4899339676, -1671.3946716309), (-217.2899339676, -1671.3946716309), (-268.0899339676, -1671.3946716309), align=None)
        with Locations((-191.8899339676, -1747.5946716309)):
            Rectangle(F2_W_2, F2_H_5)
        with Locations((-293.4899339676, -1747.5946716309)):
            Rectangle(F2_W_2, F2_H_5)
        Polygon((-268.0899339676, -2026.9946716309), (-318.8899339676, -2026.9946716309), (-318.8899339676, -2077.7946716309), (-268.0899339676, -2077.7946716309), (-268.0899339676, -2128.5946716309), (-217.2899339676, -2128.5946716309), (-217.2899339676, -2077.7946716309), (-166.4899339676, -2077.7946716309), (-166.4899339676, -2026.9946716309), (-217.2899339676, -2026.9946716309), align=None)
        with Locations((-191.8899339676, -2103.1946716309)):
            Rectangle(F2_W_2, F2_H_5)
        with Locations((-293.4899339676, -2103.1946716309)):
            Rectangle(F2_W_2, F2_H_5)
        Polygon((-318.8899339676, -2560.3946716309), (-318.8899339676, -2611.1946716309), (-166.4899339676, -2611.1946716309), (-166.4899339676, -2560.3946716309), (-217.2899339676, -2560.3946716309), (-217.2899339676, -2433.3946716309), (-166.4899339676, -2433.3946716309), (-166.4899339676, -2382.5946716309), (-217.2899339676, -2382.5946716309), (-268.0899339676, -2382.5946716309), (-318.8899339676, -2382.5946716309), (-318.8899339676, -2433.3946716309), (-268.0899339676, -2433.3946716309), (-268.0899339676, -2560.3946716309), align=None)
        with Locations((-191.8899339676, -2496.8946716309)):
            Rectangle(F2_W_2, F2_H_6)
        with Locations((-293.4899339676, -2496.8946716309)):
            Rectangle(F2_W_2, F2_H_6)
        with Locations((-899.9149339676, -2509.5946716309)):
            Rectangle(F2_W, F2_H)
        Polygon((-972.9399339676, -2458.7946716309), (-1023.7399339676, -2458.7946716309), (-1023.7399339676, -2611.1946716309), (-776.0899339676, -2611.1946716309), (-776.0899339676, -2560.3946716309), (-776.0899339676, -2458.7946716309), (-826.8899339676, -2458.7946716309), (-826.8899339676, -2560.3946716309), (-972.9399339676, -2560.3946716309), align=None)
        with Locations((414.5350660324, -2509.5946716309)):
            Rectangle(F2_W, F2_H)
        Polygon((538.3600660324, -2611.1946716309), (538.3600660324, -2458.7946716309), (487.5600660324, -2458.7946716309), (487.5600660324, -2560.3946716309), (341.5100660324, -2560.3946716309), (341.5100660324, -2458.7946716309), (290.7100660324, -2458.7946716309), (290.7100660324, -2560.3946716309), (290.7100660324, -2611.1946716309), align=None)
    extrude(amount=F3_DEPTH, both=True)

    # F4 (on face) → F5 (join)
    with BuildSketch(Plane.XY.offset(25.4)):
        with Locations((-242.6899339676, 223.5946716309)):
            Rectangle(F4_W, F4_H)
    extrude(amount=-F5_DEPTH)


with BuildPart() as f7:
    # F6 (on face) → F7 (new body)
    with BuildSketch(Plane.XY.offset(25.4)):
        with Locations((-242.6899339676, 1404.6946716309)):
            Rectangle(F6_W, F6_H)
    extrude(amount=F7_DEPTH)


solid = Compound([f1.part, f7.part])
